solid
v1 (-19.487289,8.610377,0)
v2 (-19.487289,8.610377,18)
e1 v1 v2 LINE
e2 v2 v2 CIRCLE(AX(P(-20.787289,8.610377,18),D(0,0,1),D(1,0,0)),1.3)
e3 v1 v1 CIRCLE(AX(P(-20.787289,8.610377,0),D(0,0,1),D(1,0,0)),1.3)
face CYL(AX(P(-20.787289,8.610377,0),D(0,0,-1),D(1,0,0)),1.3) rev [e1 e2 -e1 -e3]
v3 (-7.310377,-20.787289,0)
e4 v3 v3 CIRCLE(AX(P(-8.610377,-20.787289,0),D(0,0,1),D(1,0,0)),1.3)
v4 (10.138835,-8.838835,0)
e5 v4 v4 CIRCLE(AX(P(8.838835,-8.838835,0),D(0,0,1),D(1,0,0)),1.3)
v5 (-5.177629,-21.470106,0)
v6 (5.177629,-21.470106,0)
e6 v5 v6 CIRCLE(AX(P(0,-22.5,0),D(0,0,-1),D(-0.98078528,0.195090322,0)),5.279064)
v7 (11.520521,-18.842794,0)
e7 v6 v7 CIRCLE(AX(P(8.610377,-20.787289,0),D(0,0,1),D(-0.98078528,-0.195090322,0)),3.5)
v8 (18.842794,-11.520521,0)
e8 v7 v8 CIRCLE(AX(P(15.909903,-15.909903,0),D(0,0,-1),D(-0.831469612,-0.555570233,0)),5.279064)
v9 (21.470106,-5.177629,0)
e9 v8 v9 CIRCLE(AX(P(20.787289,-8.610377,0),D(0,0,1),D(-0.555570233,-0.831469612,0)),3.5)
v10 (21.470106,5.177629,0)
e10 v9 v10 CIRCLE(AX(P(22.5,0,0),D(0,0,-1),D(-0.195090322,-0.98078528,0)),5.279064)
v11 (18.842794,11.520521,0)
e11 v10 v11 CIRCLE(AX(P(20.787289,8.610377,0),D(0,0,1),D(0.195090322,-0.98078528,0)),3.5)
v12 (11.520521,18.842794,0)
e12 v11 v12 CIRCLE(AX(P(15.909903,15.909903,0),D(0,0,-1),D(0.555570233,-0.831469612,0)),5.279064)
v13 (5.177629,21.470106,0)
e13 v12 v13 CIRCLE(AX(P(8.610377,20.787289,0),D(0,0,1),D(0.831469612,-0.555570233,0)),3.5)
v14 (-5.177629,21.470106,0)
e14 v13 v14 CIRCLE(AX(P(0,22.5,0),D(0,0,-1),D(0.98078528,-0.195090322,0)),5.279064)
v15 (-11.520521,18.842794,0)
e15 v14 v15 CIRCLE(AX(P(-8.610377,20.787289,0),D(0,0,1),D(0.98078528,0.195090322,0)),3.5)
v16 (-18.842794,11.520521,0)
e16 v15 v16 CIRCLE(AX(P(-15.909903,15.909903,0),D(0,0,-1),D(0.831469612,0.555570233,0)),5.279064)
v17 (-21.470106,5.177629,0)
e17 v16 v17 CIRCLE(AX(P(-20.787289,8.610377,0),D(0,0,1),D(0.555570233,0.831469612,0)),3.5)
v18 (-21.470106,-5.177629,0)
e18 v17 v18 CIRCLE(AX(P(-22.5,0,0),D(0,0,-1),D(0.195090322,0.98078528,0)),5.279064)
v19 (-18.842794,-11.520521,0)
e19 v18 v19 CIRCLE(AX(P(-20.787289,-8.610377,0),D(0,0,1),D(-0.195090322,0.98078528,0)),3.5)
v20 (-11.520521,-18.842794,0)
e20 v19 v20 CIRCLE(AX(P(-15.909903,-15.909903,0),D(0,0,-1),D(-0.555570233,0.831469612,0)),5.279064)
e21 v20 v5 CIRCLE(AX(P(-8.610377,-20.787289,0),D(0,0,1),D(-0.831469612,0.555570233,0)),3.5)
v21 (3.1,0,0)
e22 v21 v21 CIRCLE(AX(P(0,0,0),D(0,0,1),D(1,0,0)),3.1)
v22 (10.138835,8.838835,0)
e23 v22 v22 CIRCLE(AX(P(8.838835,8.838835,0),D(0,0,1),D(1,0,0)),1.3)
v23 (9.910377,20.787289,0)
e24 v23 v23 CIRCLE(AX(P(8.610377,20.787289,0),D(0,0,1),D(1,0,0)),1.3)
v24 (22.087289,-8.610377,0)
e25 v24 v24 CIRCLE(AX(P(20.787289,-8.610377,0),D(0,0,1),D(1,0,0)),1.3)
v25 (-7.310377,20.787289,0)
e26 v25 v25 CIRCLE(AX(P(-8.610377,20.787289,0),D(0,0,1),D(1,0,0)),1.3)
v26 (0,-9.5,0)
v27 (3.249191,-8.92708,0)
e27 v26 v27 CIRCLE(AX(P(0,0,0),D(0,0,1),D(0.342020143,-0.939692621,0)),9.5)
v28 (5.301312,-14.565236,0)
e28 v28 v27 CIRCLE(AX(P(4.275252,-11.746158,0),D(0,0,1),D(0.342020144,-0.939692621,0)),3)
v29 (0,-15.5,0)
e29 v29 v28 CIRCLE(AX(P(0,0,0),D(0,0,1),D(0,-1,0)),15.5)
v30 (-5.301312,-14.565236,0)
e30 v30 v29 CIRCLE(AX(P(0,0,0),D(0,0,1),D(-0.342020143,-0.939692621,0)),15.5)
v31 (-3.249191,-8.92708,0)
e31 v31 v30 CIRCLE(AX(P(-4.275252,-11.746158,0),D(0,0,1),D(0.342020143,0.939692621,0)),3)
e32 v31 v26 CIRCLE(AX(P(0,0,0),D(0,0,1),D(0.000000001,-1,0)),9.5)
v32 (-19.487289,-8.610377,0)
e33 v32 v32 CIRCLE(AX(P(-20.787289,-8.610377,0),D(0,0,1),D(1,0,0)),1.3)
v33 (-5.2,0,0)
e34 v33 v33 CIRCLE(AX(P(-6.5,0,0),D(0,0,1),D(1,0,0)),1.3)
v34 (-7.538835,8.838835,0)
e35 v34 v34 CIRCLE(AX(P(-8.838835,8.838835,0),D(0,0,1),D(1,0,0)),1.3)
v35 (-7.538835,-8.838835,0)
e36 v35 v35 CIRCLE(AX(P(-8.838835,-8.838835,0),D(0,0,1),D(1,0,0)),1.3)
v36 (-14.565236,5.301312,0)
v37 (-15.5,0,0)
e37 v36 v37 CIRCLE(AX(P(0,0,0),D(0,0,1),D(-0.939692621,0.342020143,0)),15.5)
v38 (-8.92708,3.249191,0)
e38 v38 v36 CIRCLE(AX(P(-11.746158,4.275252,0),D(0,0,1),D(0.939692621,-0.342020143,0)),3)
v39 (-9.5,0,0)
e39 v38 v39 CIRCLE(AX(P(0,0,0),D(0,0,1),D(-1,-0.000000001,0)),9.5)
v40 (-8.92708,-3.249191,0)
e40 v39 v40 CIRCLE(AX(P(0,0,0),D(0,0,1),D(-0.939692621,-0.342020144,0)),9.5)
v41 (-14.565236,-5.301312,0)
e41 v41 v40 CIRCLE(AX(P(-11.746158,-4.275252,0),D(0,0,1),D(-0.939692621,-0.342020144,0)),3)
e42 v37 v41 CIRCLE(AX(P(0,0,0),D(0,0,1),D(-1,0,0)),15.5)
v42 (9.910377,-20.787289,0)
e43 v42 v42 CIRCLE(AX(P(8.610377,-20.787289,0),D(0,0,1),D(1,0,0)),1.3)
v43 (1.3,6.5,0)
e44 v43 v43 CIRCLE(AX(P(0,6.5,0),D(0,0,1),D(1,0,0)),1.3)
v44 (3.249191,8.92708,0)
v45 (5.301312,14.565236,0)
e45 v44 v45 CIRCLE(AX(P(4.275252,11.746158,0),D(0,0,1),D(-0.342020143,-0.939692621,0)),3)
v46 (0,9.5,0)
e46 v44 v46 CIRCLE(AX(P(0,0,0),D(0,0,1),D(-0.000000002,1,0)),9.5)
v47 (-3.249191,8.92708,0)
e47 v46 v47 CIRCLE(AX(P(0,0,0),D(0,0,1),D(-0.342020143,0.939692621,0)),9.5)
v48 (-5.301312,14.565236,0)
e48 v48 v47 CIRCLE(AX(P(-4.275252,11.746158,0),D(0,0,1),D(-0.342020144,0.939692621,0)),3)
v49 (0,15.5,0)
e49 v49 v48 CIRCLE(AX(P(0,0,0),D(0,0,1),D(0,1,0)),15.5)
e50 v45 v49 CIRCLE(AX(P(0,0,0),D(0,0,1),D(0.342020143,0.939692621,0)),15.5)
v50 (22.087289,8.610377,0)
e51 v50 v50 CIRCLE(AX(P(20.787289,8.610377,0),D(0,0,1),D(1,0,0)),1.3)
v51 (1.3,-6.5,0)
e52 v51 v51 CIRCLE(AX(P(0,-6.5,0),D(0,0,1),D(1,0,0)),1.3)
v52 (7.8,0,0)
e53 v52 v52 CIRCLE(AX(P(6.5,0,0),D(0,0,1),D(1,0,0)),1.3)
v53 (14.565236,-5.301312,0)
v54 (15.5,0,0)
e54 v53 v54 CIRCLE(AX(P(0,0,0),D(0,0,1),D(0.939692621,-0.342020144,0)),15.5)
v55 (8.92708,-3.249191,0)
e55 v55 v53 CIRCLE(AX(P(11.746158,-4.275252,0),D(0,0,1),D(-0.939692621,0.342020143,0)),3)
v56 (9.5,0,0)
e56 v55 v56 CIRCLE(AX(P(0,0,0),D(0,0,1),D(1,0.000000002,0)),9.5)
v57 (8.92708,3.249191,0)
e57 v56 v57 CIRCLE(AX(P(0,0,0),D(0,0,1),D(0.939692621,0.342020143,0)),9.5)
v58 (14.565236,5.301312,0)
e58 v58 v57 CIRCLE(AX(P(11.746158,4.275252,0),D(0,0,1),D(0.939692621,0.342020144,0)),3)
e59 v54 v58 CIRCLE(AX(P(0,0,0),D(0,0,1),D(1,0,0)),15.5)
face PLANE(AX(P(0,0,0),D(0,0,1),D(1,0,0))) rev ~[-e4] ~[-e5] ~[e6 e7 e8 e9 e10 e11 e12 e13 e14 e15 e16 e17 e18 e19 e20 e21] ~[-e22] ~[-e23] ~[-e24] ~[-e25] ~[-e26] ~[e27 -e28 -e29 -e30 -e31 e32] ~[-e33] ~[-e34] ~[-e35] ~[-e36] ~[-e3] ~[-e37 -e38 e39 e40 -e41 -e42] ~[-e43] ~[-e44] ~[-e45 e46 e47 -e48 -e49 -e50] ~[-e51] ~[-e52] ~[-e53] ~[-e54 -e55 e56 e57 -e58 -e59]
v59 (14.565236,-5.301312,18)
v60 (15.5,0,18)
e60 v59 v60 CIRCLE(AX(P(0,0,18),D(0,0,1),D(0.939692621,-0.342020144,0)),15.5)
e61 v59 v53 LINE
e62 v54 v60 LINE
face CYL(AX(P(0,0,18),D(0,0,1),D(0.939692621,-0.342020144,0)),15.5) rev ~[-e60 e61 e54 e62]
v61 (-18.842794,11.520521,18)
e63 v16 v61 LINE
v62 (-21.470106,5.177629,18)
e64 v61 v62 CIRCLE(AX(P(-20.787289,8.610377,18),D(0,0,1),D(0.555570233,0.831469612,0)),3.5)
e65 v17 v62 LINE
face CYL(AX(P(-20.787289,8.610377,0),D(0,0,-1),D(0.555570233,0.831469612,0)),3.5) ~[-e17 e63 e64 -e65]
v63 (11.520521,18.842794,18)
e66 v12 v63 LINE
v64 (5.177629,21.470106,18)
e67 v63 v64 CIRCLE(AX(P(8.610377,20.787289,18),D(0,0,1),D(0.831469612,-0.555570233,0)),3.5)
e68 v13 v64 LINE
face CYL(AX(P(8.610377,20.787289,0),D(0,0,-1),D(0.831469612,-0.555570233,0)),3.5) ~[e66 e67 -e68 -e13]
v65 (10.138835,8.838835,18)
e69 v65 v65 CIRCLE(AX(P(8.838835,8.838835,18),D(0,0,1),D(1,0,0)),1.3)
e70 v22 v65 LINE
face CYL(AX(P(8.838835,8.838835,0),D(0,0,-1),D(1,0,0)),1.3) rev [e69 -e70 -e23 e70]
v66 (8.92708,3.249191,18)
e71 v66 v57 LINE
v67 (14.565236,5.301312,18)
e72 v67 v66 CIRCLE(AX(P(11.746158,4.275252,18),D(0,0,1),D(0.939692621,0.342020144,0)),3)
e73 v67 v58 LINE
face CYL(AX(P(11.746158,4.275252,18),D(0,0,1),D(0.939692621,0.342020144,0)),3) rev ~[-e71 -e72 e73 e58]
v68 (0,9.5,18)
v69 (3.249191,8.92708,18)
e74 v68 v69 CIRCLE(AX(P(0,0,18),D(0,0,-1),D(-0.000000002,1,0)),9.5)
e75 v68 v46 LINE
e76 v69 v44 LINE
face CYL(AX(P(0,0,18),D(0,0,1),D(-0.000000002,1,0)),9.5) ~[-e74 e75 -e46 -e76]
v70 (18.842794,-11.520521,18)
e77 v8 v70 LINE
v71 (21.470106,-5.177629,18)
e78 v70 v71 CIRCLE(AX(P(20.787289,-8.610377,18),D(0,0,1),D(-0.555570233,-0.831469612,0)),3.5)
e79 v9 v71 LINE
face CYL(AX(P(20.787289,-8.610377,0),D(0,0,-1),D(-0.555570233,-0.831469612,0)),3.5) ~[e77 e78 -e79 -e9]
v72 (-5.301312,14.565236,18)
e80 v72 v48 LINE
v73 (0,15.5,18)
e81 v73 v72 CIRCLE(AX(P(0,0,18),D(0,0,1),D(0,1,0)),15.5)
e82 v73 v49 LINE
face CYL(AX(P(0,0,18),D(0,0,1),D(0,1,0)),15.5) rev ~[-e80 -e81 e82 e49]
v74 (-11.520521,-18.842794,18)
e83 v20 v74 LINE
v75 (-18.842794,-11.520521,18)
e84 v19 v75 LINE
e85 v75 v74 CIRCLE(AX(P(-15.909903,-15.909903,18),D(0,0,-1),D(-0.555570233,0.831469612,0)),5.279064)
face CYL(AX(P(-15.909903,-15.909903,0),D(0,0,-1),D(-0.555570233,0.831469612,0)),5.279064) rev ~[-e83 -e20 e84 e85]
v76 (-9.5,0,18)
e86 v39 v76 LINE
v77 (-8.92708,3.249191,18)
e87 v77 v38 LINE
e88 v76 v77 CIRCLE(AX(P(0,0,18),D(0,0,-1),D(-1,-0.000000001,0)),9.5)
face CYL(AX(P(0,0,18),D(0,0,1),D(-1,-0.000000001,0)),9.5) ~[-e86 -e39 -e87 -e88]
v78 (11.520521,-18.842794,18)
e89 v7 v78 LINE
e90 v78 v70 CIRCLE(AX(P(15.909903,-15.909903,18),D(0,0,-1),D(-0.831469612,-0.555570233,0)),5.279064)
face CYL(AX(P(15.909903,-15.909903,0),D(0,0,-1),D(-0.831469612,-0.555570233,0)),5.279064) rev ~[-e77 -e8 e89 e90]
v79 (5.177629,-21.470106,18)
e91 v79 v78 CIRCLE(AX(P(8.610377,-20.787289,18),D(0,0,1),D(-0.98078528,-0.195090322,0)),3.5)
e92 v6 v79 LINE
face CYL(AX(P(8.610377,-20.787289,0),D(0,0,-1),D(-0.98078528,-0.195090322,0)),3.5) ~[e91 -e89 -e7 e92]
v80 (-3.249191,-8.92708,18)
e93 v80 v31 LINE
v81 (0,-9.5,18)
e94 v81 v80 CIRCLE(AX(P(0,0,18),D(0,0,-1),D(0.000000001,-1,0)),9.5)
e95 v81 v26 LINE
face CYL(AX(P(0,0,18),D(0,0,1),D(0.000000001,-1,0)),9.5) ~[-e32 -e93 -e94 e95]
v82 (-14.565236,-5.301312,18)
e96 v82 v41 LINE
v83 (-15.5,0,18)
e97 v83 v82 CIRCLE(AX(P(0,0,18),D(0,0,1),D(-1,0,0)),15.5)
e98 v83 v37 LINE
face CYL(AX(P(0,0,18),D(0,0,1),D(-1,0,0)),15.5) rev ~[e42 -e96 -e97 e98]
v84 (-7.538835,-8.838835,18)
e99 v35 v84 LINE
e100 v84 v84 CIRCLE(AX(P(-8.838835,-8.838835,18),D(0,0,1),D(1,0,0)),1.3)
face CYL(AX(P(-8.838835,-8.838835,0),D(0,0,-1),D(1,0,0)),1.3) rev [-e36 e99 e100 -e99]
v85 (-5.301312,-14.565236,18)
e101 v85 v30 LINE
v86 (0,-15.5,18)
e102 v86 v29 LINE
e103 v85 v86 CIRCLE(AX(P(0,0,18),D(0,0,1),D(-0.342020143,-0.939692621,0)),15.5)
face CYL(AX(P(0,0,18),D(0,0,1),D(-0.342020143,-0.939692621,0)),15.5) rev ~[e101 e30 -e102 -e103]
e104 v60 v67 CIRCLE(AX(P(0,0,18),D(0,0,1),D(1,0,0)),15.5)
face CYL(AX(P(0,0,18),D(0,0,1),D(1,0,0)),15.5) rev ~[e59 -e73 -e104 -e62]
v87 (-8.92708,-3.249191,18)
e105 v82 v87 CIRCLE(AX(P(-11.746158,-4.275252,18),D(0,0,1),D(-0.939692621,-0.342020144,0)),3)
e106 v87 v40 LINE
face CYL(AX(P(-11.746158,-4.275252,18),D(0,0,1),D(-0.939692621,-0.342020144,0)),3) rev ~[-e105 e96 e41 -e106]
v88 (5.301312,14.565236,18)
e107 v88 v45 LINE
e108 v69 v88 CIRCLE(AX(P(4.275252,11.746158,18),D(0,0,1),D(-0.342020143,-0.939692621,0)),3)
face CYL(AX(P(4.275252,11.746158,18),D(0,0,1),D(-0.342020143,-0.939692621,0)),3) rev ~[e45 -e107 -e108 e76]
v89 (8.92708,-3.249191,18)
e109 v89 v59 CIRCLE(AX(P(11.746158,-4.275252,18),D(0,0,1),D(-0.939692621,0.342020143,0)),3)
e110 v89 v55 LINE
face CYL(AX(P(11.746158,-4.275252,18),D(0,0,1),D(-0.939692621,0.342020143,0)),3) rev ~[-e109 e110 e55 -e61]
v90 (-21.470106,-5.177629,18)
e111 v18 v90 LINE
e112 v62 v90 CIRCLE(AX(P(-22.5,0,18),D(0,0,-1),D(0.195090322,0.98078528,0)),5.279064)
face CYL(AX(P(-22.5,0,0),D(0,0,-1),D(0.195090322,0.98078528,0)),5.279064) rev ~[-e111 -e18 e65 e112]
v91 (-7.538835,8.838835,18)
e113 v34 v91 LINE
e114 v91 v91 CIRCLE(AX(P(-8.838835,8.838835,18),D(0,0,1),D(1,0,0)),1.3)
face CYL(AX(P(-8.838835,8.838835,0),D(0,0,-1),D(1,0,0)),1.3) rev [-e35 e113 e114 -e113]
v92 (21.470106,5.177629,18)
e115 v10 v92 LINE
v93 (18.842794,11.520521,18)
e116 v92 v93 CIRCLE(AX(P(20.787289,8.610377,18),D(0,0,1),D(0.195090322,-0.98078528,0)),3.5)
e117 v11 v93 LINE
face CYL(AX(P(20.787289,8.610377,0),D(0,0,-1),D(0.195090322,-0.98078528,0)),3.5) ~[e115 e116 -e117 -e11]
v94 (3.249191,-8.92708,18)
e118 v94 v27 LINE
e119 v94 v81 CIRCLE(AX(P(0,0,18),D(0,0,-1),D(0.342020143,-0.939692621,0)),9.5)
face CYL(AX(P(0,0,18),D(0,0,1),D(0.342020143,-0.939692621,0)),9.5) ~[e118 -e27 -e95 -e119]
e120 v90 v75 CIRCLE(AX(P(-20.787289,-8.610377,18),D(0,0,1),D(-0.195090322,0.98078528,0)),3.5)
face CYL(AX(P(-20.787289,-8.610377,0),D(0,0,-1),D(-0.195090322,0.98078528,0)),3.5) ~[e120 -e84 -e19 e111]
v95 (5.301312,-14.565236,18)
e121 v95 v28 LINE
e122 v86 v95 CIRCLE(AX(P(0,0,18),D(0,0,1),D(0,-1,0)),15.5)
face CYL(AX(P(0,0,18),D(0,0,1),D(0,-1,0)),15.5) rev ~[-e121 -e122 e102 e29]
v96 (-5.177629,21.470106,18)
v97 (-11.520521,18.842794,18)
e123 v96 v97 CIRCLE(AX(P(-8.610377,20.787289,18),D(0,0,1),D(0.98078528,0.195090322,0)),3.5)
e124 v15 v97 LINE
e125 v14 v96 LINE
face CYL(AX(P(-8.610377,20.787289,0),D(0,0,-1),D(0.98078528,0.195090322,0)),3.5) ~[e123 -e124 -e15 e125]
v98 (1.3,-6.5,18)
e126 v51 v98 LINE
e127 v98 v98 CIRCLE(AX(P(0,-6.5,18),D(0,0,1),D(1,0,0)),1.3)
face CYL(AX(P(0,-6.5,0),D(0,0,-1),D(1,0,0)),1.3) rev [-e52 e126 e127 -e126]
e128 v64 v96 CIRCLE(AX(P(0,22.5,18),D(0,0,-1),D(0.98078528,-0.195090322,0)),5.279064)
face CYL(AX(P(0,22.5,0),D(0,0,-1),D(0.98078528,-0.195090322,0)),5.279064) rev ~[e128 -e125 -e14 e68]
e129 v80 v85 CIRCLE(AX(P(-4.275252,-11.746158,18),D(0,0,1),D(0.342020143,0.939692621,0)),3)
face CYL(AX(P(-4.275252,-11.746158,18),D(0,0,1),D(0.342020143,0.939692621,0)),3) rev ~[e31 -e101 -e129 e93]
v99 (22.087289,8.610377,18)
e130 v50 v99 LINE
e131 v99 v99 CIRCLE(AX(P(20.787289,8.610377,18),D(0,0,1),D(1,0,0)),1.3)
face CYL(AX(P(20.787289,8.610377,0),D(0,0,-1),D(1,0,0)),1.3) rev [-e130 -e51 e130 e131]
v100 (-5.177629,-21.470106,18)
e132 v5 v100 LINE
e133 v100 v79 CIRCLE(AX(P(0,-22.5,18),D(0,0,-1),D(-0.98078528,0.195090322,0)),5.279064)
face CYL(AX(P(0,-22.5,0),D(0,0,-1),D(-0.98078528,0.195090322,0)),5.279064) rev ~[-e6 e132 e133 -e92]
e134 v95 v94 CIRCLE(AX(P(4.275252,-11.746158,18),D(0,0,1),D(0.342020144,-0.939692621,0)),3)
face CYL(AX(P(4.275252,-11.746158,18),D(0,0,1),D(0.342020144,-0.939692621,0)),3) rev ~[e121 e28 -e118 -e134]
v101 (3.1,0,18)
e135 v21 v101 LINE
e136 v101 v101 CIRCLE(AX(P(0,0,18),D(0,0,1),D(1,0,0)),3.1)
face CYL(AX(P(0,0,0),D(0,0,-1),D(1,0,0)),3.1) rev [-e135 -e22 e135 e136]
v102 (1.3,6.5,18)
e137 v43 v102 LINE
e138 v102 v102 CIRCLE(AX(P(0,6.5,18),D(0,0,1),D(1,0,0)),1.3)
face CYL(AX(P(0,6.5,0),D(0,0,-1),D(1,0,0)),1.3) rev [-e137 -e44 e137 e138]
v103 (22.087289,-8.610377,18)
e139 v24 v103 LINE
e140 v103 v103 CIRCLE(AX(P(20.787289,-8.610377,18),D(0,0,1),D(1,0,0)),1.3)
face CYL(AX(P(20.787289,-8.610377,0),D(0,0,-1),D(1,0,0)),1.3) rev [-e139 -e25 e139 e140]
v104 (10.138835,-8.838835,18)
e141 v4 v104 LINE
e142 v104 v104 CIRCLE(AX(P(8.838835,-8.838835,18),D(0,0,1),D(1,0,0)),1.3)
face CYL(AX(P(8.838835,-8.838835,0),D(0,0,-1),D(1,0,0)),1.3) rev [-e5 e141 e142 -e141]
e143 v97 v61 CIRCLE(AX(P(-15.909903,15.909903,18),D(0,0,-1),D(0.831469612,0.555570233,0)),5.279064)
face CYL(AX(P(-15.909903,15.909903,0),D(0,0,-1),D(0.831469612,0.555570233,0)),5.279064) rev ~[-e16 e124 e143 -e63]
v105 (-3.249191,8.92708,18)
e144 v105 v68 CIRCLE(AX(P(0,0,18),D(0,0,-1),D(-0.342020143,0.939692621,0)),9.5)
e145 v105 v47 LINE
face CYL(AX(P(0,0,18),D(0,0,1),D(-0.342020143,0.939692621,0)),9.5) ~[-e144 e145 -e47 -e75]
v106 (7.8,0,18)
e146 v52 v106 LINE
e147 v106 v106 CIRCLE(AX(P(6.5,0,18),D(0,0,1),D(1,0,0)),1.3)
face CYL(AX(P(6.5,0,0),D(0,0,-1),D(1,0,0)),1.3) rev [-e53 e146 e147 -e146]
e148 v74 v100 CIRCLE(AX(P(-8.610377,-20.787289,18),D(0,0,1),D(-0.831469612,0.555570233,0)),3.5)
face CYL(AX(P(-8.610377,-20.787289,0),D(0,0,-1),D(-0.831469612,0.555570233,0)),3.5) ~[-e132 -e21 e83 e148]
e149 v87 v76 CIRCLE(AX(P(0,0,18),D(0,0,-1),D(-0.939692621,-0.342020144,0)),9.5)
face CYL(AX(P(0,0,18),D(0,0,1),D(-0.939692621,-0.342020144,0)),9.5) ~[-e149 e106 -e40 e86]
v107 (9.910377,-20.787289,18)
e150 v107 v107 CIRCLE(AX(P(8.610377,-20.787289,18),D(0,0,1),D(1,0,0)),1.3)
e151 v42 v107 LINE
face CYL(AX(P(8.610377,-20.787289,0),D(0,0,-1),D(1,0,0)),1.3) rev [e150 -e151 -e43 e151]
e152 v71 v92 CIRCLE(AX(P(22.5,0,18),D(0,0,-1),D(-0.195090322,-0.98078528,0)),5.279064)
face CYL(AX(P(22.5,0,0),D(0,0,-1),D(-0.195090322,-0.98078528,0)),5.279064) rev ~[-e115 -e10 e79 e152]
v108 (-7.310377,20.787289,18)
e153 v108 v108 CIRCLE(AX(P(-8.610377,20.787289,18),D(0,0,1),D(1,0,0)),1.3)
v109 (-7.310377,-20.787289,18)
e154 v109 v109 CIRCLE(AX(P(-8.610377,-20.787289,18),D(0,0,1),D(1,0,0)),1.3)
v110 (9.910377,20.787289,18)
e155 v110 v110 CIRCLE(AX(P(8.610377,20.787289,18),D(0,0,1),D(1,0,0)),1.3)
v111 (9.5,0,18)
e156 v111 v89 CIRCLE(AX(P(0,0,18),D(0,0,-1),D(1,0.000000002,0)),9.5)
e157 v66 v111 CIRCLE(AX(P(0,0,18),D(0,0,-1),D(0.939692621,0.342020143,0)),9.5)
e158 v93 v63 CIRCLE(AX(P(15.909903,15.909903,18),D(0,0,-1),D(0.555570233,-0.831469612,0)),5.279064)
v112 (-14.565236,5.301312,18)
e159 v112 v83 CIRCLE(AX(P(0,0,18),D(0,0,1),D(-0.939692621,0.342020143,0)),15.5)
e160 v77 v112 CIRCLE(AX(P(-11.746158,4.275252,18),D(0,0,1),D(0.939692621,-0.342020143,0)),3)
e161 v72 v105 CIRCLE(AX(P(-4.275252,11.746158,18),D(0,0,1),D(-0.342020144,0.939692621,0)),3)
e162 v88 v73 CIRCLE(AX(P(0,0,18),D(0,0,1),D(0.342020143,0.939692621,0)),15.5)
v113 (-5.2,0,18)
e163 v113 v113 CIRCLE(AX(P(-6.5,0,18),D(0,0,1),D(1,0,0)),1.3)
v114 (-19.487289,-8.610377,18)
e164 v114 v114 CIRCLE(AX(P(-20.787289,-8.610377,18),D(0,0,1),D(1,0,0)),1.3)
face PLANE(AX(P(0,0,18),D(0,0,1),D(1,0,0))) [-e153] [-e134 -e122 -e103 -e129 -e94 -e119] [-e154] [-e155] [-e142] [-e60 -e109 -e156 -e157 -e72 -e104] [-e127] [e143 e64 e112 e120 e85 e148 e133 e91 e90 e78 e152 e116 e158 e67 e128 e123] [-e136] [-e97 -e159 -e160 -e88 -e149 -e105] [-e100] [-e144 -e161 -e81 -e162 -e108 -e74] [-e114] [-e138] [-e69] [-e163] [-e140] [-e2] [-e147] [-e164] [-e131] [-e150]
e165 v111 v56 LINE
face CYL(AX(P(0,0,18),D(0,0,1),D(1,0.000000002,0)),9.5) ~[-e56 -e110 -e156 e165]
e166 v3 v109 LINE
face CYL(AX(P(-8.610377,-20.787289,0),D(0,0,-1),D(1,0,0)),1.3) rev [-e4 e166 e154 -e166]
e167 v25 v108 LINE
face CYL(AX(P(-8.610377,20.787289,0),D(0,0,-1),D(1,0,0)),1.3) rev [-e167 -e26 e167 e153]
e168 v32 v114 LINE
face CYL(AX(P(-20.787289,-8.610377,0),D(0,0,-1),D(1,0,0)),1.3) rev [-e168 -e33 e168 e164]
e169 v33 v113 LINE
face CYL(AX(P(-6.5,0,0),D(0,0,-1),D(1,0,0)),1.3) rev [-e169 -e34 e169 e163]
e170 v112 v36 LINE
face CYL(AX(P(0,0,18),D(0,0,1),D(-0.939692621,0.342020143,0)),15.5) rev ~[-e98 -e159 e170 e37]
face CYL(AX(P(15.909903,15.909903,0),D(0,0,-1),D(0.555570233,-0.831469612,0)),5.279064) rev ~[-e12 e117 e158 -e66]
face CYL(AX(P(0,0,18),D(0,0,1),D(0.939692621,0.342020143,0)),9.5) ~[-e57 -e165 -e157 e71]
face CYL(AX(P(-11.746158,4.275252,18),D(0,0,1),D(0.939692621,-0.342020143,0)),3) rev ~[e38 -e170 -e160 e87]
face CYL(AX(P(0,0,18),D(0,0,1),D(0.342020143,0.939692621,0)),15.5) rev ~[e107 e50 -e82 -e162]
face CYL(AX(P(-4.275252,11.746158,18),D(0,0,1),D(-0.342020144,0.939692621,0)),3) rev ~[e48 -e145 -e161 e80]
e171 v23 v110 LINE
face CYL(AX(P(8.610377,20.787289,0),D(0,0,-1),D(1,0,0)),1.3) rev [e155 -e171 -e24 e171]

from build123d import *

# Parameters (mm, degrees)
SKETCH_1_R          = 1.3
SKETCH_1_R_2        = 3
SKETCH_1_R_3        = 3.1
EXTRUDE_1_DEPTH     = 18
CUT_EXTRUDE_1_DEPTH = 39.778149269


with BuildPart() as part:
    # ｽｹｯﾁ1 → ﾎﾞｽ - 押し出し1 (new body)
    with BuildSketch(Plane.XY):
        with BuildLine():
            ThreePointArc((11.520520871, 18.842793666), (9.949769241, 24.020867845), (5.177628747, 21.470105609))
            ThreePointArc((5.177628747, 21.470105609), (0, 17.220935509), (-5.177628747, 21.470105609))
            ThreePointArc((-5.177628747, 21.470105609), (-9.949769241, 24.020867845), (-11.520520871, 18.842793666))
            ThreePointArc((-11.520520871, 18.842793666), (-12.177040277, 12.177040277), (-18.842793666, 11.520520871))
            ThreePointArc((-18.842793666, 11.520520871), (-24.020867845, 9.949769241), (-21.470105609, 5.177628747))
            ThreePointArc((-21.470105609, 5.177628747), (-17.220935509, 0), (-21.470105609, -5.177628747))
            ThreePointArc((-21.470105609, -5.177628747), (-24.020867845, -9.949769241), (-18.842793666, -11.520520871))
            ThreePointArc((-18.842793666, -11.520520871), (-12.177040277, -12.177040277), (-11.520520871, -18.842793666))
            ThreePointArc((-11.520520871, -18.842793666), (-9.949769241, -24.020867845), (-5.177628747, -21.470105609))
            ThreePointArc((-5.177628747, -21.470105609), (0, -17.220935509), (5.177628747, -21.470105609))
            ThreePointArc((5.177628747, -21.470105609), (9.949769241, -24.020867845), (11.520520871, -18.842793666))
            ThreePointArc((11.520520871, -18.842793666), (12.177040277, -12.177040277), (18.842793666, -11.520520871))
            ThreePointArc((18.842793666, -11.520520871), (24.020867845, -9.949769241), (21.470105609, -5.177628747))
            ThreePointArc((21.470105609, -5.177628747), (17.220935509, 0), (21.470105609, 5.177628747))
            ThreePointArc((21.470105609, 5.177628747), (24.020867845, 9.949769241), (18.842793666, 11.520520871))
            ThreePointArc((18.842793666, 11.520520871), (12.177040277, 12.177040277), (11.520520871, 18.842793666))
        make_face()
        with Locations((8.610377228, 20.787289482)):
            Circle(SKETCH_1_R, mode=Mode.SUBTRACT)
        with Locations((20.787289482, 8.610377228)):
            Circle(SKETCH_1_R, mode=Mode.SUBTRACT)
        with Locations((20.787289482, -8.610377228)):
            Circle(SKETCH_1_R, mode=Mode.SUBTRACT)
        with Locations((8.610377228, -20.787289482)):
            Circle(SKETCH_1_R, mode=Mode.SUBTRACT)
        with Locations((-8.610377228, -20.787289482)):
            Circle(SKETCH_1_R, mode=Mode.SUBTRACT)
        with Locations((-20.787289482, -8.610377228)):
            Circle(SKETCH_1_R, mode=Mode.SUBTRACT)
        with Locations((-20.787289482, 8.610377228)):
            Circle(SKETCH_1_R, mode=Mode.SUBTRACT)
        with Locations((-8.610377228, 20.787289482)):
            Circle(SKETCH_1_R, mode=Mode.SUBTRACT)
        with Locations((8.838834765, 8.838834765)):
            Circle(SKETCH_1_R, mode=Mode.SUBTRACT)
        with Locations((8.838834765, -8.838834765)):
            Circle(SKETCH_1_R, mode=Mode.SUBTRACT)
        with Locations((-8.838834765, -8.838834765)):
            Circle(SKETCH_1_R, mode=Mode.SUBTRACT)
        with Locations((-8.838834765, 8.838834765)):
            Circle(SKETCH_1_R, mode=Mode.SUBTRACT)
        with Locations((0, 6.5)):
            Circle(SKETCH_1_R, mode=Mode.SUBTRACT)
        with Locations((6.5, 0)):
            Circle(SKETCH_1_R, mode=Mode.SUBTRACT)
        with Locations((0, -6.5)):
            Circle(SKETCH_1_R, mode=Mode.SUBTRACT)
        with Locations((-6.5, 0)):
            Circle(SKETCH_1_R, mode=Mode.SUBTRACT)
        with Locations((0, 12.5)):
            Circle(SKETCH_1_R_2, mode=Mode.SUBTRACT)
        with Locations((12.5, 0)):
            Circle(SKETCH_1_R_2, mode=Mode.SUBTRACT)
        with Locations((0, -12.5)):
            Circle(SKETCH_1_R_2, mode=Mode.SUBTRACT)
        with Locations((-12.5, 0)):
            Circle(SKETCH_1_R_2, mode=Mode.SUBTRACT)
        Circle(SKETCH_1_R_3, mode=Mode.SUBTRACT)
    extrude(amount=EXTRUDE_1_DEPTH)

    # ｽｹｯﾁ2 → ｶｯﾄ - 押し出し1 (cut, through all)
    with BuildSketch(Plane.XY.offset(18)):
        with BuildLine():
            ThreePointArc((-15.5, 6e-09), (-12.499999997, 3), (-9.5, 0))
            ThreePointArc((-9.5, 0), (-9.355673654, 1.649657688), (-8.927079897, 3.249191362))
            ThreePointArc((-8.927079897, 3.249191362), (-10.72009733, 7.094329654), (-14.565235622, 5.301312222))
            ThreePointArc((-14.565235622, 5.301312222), (-15.264520171, 2.691546757), (-15.5, 6e-09))
        make_face()
        with BuildLine():
            ThreePointArc((-14.565235622, -5.301312222), (-10.72009733, -7.094329654), (-8.927079897, -3.249191362))
            ThreePointArc((-8.927079897, -3.249191362), (-9.355673654, -1.649657688), (-9.5, 0))
            ThreePointArc((-9.5, 0), (-12.500000003, -3), (-15.5, 6e-09))
            ThreePointArc((-15.5, 6e-09), (-15.264520172, -2.691546751), (-14.565235622, -5.301312222))
        make_face()
        with BuildLine():
            ThreePointArc((5.301312222, -14.565235622), (7.094329654, -10.72009733), (3.249191362, -8.927079897))
            ThreePointArc((3.249191362, -8.927079897), (1.649657689, -9.355673653), (3e-09, -9.5))
            ThreePointArc((3e-09, -9.5), (2.121320344, -10.378679657), (3, -12.5))
            ThreePointArc((3, -12.5), (2.121320344, -14.621320343), (1e-09, -15.5))
            ThreePointArc((1e-09, -15.5), (2.691546754, -15.264520172), (5.301312222, -14.565235622))
        make_face()
        with BuildLine():
            ThreePointArc((1e-09, -15.5), (-3, -12.499999999), (3e-09, -9.5))
            ThreePointArc((3e-09, -9.5), (-1.649657687, -9.355673654), (-3.249191362, -8.927079897))
            ThreePointArc((-3.249191362, -8.927079897), (-7.094329654, -10.72009733), (-5.301312222, -14.565235622))
            ThreePointArc((-5.301312222, -14.565235622), (-2.691546753, -15.264520172), (1e-09, -15.5))
        make_face()
        with BuildLine():
            ThreePointArc((15.5, 0), (12.499999993, -3), (9.5, 1.5e-08))
            ThreePointArc((9.5, 1.5e-08), (9.355673655, -1.649657681), (8.927079897, -3.249191362))
            ThreePointArc((8.927079897, -3.249191362), (10.72009733, -7.094329654), (14.565235622, -5.301312222))
            ThreePointArc((14.565235622, -5.301312222), (15.264520172, -2.691546754), (15.5, 0))
        make_face()
        with BuildLine():
            ThreePointArc((14.565235622, 5.301312222), (10.72009733, 7.094329654), (8.927079897, 3.249191362))
            ThreePointArc((8.927079897, 3.249191362), (9.355673652, 1.649657695), (9.5, 1.5e-08))
            ThreePointArc((9.5, 1.5e-08), (12.500000007, 3), (15.5, 0))
            ThreePointArc((15.5, 0), (15.264520172, 2.691546754), (14.565235622, 5.301312222))
        make_face()
        with BuildLine():
            ThreePointArc((-1.5e-08, 9.5), (1.649657681, 9.355673655), (3.249191362, 8.927079897))
            ThreePointArc((3.249191362, 8.927079897), (7.094329654, 10.72009733), (5.301312222, 14.565235622))
            ThreePointArc((5.301312222, 14.565235622), (2.691546753, 15.264520172), (-1e-09, 15.5))
            ThreePointArc((-1e-09, 15.5), (2.121320343, 14.621320344), (3, 12.5))
            ThreePointArc((3, 12.5), (2.121320338, 10.378679651), (-1.5e-08, 9.5))
        make_face()
        with BuildLine():
            ThreePointArc((-3.249191362, 8.927079897), (-1.649657695, 9.355673652), (-1.5e-08, 9.5))
            ThreePointArc((-1.5e-08, 9.5), (-3, 12.500000007), (-1e-09, 15.5))
            ThreePointArc((-1e-09, 15.5), (-2.691546754, 15.264520172), (-5.301312222, 14.565235622))
            ThreePointArc((-5.301312222, 14.565235622), (-7.094329654, 10.72009733), (-3.249191362, 8.927079897))
        make_face()
    extrude(amount=-CUT_EXTRUDE_1_DEPTH, mode=Mode.SUBTRACT)


solid = part.part
